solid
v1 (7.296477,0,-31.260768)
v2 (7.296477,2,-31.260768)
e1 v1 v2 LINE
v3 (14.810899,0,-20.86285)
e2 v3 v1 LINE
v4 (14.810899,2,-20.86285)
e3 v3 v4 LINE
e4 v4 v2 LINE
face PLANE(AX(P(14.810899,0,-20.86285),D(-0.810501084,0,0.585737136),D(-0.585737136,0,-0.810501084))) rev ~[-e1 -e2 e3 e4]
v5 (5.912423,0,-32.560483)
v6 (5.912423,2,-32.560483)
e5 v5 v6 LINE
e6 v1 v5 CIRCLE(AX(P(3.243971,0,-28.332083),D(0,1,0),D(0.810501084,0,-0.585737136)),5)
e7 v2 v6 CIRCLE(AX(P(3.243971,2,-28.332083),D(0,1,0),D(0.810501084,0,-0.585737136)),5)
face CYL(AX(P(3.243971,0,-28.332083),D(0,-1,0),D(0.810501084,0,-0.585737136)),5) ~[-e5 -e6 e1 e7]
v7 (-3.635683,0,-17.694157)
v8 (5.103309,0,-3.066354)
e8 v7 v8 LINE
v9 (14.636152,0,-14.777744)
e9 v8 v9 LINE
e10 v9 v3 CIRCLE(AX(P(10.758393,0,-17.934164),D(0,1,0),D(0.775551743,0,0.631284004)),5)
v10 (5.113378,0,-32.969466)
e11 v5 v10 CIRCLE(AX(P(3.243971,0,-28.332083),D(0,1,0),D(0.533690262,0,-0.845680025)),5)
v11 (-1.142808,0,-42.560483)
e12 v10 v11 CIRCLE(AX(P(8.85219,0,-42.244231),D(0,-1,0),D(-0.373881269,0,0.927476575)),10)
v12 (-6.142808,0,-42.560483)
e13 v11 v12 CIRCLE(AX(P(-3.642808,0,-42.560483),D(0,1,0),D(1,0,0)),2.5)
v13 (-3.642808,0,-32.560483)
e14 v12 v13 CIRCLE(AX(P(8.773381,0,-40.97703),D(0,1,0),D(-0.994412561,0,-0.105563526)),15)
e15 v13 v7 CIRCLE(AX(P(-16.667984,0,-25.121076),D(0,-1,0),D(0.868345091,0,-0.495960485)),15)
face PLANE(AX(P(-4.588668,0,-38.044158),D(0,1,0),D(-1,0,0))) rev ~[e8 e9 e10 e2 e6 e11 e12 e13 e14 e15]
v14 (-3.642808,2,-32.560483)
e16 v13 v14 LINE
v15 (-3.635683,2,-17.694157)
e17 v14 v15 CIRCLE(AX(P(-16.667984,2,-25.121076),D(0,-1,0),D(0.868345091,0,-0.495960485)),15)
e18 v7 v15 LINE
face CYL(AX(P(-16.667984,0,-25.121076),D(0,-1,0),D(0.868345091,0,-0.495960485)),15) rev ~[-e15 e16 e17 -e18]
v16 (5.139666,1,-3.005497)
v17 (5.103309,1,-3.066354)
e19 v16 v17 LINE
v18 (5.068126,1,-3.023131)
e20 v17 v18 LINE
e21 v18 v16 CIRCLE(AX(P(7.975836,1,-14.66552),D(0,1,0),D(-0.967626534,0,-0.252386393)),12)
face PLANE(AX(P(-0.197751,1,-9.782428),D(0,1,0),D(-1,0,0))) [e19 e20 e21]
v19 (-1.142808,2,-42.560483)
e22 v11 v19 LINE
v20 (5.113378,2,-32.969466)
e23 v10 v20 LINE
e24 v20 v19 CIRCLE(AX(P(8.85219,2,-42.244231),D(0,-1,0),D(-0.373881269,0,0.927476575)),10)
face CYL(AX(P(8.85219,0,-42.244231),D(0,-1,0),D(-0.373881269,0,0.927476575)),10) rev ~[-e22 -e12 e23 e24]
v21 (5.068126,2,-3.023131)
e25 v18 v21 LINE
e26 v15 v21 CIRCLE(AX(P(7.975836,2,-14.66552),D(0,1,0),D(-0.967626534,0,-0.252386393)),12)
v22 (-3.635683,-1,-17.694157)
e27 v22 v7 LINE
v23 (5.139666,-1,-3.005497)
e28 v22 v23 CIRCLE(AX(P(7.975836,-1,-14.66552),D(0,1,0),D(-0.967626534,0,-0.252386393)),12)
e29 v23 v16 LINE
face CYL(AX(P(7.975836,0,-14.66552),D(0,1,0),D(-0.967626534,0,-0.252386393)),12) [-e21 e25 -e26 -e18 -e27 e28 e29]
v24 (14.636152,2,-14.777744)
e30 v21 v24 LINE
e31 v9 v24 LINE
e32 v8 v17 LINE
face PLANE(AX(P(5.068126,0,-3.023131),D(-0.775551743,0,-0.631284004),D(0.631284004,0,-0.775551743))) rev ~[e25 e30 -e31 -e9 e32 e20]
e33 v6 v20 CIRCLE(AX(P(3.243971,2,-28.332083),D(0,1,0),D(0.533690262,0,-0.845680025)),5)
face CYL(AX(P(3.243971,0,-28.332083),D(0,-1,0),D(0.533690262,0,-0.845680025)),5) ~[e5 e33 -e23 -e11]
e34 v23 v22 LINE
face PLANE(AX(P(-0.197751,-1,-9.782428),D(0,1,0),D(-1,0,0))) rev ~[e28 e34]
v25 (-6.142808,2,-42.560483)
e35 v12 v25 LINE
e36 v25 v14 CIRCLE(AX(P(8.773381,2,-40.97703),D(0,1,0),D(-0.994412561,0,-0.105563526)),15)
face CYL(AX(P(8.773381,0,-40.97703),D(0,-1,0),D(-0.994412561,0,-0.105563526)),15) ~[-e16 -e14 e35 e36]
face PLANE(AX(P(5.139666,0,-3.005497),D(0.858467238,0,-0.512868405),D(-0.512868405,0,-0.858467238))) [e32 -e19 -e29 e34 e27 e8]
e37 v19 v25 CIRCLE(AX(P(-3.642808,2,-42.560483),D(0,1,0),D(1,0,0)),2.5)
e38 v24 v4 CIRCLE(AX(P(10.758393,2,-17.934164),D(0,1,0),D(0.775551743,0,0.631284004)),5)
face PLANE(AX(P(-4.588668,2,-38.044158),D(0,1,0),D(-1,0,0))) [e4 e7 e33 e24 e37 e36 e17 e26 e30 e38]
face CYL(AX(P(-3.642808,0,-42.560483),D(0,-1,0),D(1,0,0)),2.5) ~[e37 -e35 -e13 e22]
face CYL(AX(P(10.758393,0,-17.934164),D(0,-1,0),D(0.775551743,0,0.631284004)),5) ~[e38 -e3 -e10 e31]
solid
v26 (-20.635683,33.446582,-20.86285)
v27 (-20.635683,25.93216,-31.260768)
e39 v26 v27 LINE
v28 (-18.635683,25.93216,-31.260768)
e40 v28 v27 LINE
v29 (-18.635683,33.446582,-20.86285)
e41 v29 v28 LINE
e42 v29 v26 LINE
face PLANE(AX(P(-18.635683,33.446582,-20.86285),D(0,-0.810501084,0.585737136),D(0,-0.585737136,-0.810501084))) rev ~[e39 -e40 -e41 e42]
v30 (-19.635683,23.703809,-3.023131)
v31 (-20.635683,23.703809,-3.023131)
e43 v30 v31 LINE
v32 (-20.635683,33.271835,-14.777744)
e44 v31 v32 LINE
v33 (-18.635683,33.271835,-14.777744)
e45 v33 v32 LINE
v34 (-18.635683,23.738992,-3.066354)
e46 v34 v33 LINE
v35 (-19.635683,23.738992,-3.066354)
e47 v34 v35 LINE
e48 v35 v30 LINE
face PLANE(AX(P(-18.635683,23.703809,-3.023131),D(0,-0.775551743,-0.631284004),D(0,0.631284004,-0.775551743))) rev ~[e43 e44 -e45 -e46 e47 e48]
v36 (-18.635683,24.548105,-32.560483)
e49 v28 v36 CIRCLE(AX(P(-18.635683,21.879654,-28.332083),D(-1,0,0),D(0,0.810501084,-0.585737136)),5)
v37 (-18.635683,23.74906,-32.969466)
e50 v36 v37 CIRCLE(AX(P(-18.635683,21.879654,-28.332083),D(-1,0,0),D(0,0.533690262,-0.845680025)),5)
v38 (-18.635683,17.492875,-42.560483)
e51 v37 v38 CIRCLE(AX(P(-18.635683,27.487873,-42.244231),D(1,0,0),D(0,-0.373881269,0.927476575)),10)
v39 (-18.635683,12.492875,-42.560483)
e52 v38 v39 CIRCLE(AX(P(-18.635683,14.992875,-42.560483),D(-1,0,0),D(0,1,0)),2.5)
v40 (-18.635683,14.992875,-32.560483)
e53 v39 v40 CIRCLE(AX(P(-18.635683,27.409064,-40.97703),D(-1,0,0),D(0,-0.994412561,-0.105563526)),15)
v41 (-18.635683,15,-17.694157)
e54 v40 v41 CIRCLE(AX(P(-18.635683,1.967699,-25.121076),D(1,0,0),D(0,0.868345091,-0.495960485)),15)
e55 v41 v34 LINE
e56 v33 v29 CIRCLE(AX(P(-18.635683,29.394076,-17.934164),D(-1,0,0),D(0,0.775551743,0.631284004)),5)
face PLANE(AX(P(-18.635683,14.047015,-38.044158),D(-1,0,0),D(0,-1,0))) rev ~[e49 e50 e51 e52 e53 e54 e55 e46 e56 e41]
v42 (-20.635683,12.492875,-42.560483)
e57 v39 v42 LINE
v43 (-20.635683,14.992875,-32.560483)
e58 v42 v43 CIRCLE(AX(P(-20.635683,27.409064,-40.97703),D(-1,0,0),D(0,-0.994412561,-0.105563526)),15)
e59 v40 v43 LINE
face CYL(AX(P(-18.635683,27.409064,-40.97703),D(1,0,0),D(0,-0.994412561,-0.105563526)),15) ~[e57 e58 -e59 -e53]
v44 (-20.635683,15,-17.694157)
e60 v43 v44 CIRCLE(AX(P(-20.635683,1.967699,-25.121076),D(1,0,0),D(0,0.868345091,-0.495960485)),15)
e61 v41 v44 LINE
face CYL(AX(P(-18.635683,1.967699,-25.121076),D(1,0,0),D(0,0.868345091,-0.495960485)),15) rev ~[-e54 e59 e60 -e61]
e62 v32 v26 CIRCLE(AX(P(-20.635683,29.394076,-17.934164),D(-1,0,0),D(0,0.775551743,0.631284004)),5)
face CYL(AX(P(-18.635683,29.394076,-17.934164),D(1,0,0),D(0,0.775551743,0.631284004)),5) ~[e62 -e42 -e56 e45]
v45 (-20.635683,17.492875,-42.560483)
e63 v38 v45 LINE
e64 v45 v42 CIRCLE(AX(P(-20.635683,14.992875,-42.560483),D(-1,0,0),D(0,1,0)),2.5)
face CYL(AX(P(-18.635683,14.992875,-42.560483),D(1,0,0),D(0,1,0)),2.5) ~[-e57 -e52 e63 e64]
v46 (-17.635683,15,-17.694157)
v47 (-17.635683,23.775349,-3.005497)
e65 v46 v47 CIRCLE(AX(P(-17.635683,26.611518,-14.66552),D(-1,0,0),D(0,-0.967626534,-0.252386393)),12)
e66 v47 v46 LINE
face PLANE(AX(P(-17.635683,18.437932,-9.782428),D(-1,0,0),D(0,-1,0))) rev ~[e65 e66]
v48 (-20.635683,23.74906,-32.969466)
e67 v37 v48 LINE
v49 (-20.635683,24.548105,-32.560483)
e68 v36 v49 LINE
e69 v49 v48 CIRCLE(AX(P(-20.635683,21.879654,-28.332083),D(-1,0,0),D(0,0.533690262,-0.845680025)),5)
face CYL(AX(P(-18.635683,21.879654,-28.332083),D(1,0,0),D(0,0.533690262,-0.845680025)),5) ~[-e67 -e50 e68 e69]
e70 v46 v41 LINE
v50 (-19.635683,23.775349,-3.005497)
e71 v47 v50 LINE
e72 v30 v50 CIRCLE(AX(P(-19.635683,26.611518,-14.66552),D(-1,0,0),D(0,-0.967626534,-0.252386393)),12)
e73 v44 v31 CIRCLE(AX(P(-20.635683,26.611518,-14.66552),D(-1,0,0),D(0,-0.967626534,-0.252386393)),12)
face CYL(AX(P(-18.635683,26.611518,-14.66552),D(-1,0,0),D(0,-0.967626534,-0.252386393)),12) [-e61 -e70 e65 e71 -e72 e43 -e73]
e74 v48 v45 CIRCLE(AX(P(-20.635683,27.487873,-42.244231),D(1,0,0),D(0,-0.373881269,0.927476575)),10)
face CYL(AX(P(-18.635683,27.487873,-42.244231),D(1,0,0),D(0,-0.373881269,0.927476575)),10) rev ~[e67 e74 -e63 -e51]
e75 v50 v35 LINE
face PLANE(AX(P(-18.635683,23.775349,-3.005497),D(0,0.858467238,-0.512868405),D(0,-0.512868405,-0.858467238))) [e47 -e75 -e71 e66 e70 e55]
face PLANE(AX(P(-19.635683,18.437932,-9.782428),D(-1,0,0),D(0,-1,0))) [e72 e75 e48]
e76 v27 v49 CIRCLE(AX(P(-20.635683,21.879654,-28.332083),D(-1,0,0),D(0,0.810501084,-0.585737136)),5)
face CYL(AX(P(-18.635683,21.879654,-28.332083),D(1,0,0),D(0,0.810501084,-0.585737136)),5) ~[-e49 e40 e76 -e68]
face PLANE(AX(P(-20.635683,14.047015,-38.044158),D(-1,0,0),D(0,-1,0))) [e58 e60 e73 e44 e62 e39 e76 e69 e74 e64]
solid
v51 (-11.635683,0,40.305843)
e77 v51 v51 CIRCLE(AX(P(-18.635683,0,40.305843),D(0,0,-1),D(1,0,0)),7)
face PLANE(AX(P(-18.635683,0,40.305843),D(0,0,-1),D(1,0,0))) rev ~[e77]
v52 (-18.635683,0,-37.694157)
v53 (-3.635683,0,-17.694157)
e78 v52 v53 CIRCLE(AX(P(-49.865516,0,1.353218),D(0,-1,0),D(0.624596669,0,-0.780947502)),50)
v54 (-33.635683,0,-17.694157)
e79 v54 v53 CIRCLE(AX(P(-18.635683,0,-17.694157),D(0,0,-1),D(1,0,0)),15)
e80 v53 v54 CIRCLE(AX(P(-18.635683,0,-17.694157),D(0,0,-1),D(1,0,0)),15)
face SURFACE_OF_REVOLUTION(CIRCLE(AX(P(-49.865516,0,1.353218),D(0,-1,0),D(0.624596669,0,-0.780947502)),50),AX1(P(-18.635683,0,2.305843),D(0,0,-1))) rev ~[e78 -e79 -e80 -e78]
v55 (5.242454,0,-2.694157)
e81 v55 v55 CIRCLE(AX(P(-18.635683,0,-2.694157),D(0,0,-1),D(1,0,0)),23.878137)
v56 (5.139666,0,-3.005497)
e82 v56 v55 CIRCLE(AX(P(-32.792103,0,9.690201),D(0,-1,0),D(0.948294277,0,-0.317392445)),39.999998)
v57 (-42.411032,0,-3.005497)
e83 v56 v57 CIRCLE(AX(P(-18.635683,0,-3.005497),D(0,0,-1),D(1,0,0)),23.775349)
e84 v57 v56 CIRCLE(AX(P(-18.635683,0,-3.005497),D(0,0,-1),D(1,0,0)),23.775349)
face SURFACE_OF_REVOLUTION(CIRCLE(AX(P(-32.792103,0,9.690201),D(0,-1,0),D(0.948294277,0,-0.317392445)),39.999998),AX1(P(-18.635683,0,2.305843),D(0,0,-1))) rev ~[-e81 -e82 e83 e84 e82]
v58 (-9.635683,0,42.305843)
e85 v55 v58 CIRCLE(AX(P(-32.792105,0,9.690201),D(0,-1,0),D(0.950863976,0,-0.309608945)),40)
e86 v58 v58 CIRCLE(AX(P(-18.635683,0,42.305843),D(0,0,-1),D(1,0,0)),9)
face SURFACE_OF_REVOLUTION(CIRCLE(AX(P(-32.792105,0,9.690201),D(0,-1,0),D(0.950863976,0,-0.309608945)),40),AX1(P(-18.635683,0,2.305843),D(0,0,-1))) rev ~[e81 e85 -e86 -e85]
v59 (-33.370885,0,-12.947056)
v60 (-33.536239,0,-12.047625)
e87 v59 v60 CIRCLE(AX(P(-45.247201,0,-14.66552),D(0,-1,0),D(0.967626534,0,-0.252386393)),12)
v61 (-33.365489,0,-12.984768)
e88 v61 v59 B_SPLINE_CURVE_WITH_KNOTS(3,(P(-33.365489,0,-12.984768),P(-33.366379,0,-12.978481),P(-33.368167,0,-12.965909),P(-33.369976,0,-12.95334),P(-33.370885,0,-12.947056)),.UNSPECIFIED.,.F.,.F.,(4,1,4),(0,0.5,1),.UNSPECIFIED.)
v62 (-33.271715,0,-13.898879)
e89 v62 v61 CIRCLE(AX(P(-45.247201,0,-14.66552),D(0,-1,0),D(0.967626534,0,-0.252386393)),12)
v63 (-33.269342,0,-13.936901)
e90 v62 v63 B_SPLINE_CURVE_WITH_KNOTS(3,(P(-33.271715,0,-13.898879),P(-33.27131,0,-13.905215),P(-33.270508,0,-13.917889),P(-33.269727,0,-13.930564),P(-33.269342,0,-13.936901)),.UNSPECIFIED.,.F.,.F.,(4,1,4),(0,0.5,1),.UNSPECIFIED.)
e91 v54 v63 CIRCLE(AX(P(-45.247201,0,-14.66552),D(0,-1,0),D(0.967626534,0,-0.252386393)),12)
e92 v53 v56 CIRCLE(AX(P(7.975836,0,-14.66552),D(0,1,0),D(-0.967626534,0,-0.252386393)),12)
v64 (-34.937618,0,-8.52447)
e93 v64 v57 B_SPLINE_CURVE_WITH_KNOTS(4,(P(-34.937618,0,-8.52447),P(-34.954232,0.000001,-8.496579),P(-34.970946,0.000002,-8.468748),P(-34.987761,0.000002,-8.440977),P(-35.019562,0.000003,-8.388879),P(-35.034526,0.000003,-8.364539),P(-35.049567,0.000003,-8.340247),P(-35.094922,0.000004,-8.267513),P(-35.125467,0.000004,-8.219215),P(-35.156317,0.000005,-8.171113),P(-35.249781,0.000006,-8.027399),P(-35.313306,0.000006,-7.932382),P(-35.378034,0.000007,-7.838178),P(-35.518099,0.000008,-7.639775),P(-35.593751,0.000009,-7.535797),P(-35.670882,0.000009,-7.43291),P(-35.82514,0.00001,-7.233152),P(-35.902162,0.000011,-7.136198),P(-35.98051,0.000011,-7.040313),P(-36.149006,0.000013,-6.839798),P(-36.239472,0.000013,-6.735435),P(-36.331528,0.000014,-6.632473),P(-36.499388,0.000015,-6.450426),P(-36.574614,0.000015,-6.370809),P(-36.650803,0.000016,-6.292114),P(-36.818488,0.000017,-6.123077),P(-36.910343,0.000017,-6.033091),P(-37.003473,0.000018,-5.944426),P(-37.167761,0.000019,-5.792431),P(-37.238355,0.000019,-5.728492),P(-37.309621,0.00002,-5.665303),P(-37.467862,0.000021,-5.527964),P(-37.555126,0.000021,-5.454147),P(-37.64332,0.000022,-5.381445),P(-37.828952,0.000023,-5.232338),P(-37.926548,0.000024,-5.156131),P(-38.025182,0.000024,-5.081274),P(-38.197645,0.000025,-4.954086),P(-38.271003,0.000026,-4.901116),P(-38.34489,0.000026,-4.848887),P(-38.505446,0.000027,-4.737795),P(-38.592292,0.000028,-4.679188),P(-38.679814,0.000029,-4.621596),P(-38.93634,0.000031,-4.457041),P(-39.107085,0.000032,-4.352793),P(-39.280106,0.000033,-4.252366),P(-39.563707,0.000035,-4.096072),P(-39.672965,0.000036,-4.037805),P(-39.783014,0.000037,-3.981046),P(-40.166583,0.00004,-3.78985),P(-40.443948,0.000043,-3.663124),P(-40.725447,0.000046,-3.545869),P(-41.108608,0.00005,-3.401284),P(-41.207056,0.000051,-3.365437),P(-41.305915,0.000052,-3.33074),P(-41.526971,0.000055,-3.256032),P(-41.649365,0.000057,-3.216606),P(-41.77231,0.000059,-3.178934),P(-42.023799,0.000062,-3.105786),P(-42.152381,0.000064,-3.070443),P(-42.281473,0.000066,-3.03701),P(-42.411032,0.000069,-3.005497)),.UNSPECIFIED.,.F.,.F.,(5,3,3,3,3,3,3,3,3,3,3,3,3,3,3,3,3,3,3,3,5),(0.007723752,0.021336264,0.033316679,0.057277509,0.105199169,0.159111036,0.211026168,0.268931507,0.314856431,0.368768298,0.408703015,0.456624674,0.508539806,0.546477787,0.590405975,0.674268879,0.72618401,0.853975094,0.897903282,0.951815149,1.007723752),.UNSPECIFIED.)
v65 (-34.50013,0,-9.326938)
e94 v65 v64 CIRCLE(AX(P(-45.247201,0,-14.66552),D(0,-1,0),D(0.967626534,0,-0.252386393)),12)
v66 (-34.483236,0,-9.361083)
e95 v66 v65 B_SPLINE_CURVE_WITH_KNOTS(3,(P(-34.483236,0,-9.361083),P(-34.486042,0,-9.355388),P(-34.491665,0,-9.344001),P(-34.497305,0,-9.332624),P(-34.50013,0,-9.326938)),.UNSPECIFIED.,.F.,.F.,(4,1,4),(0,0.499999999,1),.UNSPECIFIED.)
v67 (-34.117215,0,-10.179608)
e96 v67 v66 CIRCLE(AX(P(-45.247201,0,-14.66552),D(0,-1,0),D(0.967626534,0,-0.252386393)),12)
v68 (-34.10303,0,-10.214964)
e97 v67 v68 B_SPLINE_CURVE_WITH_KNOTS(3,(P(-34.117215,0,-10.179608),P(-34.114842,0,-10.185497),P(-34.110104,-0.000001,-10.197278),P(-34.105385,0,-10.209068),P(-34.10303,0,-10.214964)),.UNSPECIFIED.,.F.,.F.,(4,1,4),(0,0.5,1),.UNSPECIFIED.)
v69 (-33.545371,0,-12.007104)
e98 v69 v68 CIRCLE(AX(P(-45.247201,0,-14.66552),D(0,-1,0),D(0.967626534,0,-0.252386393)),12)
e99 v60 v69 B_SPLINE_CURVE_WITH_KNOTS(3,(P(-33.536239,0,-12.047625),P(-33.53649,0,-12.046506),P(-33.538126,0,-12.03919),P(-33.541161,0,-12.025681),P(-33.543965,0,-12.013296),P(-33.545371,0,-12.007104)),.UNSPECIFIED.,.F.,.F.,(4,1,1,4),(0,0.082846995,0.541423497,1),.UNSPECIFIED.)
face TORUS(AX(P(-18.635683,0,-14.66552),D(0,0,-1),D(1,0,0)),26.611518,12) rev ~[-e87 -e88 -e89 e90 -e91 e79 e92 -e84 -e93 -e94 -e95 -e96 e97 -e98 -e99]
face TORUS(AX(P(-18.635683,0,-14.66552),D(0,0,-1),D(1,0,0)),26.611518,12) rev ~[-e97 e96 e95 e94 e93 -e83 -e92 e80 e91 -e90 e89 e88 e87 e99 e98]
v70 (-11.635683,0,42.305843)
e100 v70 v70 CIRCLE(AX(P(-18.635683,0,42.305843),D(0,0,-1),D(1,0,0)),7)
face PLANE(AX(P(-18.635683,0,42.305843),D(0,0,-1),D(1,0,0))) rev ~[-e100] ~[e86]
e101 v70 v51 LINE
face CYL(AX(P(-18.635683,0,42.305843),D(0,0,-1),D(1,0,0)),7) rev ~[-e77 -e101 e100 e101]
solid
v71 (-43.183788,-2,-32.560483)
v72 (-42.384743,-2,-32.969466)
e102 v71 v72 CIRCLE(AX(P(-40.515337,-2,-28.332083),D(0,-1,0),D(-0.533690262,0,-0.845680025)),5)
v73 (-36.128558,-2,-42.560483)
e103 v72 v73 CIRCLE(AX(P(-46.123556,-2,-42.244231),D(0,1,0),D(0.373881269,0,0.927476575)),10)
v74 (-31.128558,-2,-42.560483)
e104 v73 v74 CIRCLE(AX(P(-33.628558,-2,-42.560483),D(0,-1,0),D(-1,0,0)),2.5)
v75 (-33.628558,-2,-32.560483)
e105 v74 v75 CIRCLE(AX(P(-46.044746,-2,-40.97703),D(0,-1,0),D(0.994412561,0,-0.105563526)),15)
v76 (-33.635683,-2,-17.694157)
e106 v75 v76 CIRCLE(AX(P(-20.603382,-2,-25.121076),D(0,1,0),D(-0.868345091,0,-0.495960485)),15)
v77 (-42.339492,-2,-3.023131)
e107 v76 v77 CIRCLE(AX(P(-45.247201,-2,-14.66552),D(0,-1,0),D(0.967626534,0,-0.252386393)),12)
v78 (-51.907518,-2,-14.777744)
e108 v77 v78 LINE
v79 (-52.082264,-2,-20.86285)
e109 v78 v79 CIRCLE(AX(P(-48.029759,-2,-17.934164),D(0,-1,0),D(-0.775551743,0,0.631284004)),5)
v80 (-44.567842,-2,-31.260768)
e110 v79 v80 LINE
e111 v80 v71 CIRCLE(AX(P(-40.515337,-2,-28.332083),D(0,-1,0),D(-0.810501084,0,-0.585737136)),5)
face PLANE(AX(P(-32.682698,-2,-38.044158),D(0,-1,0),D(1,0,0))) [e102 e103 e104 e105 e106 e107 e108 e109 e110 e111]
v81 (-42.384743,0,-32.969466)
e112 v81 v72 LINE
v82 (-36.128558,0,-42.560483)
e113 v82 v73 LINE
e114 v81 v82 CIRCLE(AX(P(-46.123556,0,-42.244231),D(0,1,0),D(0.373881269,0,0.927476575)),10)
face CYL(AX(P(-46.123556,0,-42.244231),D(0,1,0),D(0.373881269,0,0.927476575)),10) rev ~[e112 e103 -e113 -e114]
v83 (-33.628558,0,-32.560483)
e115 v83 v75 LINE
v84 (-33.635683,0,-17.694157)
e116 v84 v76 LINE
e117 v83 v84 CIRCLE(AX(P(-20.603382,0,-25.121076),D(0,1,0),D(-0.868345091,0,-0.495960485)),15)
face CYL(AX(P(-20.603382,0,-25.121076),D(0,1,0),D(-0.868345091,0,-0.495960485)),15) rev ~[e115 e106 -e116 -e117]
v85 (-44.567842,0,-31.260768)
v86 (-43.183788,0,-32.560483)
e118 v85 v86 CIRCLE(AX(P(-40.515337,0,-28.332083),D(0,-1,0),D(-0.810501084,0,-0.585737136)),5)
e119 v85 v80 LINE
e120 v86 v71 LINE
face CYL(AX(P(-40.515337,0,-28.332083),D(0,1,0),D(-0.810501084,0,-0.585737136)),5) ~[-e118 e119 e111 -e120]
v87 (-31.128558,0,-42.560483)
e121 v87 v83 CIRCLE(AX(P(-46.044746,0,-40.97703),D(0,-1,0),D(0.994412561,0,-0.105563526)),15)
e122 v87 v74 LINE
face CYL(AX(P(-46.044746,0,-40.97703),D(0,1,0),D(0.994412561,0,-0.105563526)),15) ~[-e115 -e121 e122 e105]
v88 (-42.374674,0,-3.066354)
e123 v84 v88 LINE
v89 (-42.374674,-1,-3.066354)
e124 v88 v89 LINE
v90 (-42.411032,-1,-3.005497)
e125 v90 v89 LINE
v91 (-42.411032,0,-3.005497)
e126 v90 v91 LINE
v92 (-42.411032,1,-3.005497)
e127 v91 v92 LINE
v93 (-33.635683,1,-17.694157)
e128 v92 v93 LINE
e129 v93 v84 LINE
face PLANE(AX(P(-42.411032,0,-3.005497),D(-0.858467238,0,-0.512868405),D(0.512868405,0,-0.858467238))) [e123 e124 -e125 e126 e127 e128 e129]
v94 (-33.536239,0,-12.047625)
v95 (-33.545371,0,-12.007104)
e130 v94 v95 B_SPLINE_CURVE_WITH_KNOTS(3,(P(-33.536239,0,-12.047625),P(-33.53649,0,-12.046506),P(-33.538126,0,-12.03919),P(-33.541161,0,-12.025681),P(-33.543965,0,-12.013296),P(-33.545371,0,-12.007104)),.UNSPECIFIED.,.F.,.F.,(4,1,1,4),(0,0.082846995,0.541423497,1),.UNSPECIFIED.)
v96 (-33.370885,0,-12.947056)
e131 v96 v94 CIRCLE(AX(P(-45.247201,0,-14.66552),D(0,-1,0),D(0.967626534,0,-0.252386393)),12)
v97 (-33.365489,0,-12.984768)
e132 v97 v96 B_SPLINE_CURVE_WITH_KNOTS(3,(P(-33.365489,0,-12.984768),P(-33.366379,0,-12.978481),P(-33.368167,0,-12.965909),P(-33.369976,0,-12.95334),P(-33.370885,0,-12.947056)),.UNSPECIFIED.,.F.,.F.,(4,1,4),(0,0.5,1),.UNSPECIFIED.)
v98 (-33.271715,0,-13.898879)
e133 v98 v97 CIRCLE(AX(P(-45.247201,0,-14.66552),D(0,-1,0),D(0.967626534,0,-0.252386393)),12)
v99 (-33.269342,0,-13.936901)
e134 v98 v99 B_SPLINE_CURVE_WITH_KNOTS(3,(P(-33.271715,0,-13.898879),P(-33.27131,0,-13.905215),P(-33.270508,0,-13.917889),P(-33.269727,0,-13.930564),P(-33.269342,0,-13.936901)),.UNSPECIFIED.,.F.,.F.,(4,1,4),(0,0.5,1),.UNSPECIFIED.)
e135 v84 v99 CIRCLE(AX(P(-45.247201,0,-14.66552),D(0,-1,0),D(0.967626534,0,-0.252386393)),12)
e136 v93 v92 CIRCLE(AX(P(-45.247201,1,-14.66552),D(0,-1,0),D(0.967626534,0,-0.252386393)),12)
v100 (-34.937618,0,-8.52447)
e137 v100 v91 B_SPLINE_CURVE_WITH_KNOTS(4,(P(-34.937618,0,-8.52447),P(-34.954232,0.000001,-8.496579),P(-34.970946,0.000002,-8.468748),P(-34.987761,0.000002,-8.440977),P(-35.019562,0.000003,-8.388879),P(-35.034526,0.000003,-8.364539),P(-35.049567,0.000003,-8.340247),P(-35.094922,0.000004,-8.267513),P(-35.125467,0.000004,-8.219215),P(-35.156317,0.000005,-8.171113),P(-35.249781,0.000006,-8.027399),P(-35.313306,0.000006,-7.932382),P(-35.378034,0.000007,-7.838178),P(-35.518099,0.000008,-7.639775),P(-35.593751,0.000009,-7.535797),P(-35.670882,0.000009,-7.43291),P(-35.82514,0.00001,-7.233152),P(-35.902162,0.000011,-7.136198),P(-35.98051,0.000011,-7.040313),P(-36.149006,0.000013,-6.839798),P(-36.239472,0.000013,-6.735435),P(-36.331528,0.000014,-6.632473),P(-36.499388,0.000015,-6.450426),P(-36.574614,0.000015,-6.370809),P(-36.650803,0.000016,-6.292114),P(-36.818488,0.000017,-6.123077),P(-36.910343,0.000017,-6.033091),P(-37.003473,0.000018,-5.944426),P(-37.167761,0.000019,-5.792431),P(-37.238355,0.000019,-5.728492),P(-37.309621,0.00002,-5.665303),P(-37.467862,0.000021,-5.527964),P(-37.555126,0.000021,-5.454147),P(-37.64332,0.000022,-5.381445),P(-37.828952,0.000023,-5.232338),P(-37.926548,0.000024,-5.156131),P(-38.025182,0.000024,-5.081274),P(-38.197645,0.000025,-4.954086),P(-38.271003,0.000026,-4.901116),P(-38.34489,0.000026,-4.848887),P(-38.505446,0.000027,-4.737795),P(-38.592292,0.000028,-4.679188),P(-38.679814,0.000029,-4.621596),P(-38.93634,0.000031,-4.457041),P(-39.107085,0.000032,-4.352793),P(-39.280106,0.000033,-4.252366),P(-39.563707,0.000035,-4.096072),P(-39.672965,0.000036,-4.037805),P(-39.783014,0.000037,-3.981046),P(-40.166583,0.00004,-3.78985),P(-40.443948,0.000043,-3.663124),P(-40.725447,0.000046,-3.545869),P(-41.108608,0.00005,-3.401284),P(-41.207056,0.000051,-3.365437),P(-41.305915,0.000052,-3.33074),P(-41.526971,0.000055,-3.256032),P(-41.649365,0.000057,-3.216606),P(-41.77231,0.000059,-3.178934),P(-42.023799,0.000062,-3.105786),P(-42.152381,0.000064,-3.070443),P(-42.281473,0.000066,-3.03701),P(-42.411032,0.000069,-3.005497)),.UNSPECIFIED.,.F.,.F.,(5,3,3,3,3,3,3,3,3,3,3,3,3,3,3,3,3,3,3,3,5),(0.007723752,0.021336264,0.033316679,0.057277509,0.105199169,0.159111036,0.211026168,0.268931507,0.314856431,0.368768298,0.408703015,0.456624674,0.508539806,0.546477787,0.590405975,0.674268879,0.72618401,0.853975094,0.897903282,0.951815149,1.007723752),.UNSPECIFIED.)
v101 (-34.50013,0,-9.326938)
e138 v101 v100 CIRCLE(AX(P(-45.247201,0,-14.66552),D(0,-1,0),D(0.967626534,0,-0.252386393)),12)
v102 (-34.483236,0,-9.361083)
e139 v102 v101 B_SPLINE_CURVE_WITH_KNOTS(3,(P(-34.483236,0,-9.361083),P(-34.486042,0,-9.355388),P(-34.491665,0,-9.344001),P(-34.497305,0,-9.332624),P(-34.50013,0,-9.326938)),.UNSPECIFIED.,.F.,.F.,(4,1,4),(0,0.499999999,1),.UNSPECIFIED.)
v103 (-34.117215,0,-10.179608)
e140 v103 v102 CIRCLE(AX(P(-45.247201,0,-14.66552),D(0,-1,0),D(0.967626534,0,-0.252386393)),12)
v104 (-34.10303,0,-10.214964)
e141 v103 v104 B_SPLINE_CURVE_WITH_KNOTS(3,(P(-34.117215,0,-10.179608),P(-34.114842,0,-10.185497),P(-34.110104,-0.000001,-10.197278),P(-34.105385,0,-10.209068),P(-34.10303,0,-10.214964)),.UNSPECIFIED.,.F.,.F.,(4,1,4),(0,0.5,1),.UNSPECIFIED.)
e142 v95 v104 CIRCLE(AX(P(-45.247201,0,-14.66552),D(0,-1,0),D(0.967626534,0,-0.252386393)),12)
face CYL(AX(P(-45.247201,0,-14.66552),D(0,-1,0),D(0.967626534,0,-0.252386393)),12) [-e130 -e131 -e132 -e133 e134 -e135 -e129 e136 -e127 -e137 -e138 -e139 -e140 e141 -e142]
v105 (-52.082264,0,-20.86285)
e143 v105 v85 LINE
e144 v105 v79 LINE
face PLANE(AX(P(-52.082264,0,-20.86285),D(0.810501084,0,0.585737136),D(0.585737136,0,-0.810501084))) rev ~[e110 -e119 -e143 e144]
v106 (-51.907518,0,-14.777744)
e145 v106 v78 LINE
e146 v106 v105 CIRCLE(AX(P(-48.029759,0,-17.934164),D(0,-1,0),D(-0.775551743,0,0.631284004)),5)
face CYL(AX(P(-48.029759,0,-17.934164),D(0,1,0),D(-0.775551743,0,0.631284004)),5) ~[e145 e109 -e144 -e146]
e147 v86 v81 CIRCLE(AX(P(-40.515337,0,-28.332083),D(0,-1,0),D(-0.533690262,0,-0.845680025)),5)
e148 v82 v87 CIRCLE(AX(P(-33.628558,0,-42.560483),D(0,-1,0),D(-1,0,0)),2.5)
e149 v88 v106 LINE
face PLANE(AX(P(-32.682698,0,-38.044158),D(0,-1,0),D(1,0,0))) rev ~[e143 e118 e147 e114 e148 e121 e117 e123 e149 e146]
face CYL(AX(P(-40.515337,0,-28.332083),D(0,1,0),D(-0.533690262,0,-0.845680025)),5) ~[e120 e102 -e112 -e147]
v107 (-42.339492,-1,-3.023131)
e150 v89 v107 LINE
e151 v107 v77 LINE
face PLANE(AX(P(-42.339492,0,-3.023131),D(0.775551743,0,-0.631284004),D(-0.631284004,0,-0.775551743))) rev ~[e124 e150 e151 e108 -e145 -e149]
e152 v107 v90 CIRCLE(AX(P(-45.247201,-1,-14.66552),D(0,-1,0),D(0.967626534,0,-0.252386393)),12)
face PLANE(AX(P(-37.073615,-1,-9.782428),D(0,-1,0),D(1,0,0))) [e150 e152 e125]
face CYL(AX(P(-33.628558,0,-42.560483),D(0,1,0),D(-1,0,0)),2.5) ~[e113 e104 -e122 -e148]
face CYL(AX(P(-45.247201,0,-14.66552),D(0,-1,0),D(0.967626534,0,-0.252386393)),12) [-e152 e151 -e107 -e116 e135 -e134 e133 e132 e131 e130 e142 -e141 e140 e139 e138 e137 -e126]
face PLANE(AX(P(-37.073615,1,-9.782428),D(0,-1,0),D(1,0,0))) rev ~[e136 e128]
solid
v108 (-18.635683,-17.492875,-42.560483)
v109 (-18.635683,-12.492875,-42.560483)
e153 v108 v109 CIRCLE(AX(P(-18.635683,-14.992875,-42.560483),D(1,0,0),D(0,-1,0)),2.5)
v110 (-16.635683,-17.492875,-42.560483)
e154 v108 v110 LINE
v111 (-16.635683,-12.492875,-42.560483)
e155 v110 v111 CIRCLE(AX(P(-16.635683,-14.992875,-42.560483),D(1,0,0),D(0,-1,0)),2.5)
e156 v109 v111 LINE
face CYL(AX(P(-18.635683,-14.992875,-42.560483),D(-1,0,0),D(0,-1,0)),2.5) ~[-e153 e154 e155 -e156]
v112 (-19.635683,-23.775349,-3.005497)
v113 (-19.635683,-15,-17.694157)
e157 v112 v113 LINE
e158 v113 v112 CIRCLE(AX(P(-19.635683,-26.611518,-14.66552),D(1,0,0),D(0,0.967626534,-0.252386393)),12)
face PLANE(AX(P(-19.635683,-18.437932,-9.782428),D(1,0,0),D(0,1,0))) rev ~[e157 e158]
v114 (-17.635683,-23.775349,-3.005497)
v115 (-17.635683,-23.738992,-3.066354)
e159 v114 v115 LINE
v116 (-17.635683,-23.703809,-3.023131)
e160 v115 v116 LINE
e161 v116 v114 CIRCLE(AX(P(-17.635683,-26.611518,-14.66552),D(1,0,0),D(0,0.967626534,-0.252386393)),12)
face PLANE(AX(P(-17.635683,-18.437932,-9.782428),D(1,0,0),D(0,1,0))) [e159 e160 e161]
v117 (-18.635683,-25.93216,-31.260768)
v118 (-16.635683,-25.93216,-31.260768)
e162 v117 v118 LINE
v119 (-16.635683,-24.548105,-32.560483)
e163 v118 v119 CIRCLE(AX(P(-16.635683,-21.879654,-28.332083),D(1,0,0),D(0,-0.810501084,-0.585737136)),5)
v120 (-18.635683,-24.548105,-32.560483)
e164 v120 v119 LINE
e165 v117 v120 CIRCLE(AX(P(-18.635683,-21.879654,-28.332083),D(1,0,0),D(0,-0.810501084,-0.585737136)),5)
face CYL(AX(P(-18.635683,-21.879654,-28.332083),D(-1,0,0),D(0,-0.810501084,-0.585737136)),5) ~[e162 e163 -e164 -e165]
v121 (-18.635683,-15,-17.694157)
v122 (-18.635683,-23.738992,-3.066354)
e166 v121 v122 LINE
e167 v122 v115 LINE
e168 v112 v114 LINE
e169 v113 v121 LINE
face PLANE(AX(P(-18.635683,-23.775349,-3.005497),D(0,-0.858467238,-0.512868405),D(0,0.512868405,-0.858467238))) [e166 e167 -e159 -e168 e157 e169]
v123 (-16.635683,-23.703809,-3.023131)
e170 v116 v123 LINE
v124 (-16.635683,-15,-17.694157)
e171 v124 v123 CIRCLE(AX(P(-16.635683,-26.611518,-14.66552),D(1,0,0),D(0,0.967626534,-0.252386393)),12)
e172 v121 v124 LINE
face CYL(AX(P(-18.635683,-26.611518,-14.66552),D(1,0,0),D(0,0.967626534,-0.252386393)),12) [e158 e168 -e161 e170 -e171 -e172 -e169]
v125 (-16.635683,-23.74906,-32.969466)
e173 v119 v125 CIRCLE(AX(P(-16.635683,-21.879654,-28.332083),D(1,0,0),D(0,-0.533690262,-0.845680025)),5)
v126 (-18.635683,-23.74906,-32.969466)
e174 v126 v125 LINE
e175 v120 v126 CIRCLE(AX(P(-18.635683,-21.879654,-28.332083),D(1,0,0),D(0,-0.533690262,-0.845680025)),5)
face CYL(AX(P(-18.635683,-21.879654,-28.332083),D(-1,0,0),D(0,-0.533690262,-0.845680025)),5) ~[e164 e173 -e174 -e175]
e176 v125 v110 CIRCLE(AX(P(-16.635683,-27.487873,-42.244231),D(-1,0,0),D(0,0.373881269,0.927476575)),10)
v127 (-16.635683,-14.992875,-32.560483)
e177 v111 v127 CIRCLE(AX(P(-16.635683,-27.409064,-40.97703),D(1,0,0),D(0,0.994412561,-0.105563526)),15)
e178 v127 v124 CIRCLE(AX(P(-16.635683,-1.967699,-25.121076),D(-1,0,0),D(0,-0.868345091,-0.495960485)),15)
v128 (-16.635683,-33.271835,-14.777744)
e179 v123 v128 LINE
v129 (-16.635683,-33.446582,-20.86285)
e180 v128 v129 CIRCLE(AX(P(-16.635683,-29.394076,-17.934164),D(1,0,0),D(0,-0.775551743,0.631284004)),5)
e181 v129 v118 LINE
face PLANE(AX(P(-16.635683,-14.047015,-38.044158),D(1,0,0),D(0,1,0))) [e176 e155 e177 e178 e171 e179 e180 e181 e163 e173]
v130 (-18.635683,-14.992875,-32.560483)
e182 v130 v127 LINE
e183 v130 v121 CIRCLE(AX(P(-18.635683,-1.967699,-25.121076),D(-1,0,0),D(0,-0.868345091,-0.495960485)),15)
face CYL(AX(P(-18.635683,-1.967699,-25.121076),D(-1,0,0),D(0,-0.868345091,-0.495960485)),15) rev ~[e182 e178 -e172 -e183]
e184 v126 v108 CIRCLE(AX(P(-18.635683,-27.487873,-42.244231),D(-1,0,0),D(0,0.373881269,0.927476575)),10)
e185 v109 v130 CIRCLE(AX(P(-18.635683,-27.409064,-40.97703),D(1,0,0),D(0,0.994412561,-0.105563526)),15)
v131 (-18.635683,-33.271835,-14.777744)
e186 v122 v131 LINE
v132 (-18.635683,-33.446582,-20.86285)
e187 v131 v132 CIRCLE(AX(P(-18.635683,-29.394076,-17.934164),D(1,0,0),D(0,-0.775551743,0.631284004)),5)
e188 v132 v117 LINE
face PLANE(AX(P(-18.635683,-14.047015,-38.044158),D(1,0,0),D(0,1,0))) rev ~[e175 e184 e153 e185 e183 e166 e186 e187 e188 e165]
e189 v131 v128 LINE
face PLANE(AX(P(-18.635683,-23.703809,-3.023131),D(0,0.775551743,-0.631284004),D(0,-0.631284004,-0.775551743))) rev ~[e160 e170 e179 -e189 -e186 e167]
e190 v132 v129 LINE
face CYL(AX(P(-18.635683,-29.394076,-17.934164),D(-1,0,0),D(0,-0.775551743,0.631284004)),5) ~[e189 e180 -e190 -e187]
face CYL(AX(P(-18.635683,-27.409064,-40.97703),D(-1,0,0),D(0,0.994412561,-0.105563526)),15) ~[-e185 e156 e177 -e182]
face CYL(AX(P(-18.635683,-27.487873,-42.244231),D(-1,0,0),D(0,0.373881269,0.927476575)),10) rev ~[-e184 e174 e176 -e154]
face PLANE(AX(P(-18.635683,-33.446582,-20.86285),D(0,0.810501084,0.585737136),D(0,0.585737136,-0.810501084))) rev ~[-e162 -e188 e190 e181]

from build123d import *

# Parameters (mm, degrees)
F3_DEPTH = 1
F5_DEPTH = 2
F6_COUNT = 4


with BuildPart() as f1:
    # F0 (on Front) → F1 (revolve)
    with BuildSketch(Plane.XZ):
        with BuildLine():
            Line((-3.6356827617, -17.6941566169), (-18.6356827617, -17.6941566169))
            Line((-18.6356827617, -17.6941566169), (-18.6356827617, -37.6941566169))
            ThreePointArc((-18.6356827617, -37.6941566169), (-9.8655162237, -28.6467815204), (-3.6356827617, -17.6941566169))
        make_face()
        with BuildLine():
            Line((-11.6356827617, 40.3058433831), (-18.6356827617, 40.3058433831))
            Line((-18.6356827617, 40.3058433831), (-18.6356827617, -2.6941566169))
            Line((-18.6356827617, -2.6941566169), (5.2424542111, -2.6941566169))
            ThreePointArc((5.2424542111, -2.6941566169), (5.185968346, 22.2467117265), (-9.6356827617, 42.3058433831))
            Line((-9.6356827617, 42.3058433831), (-11.6356827617, 42.3058433831))
            Line((-11.6356827617, 42.3058433831), (-11.6356827617, 40.3058433831))
        make_face()
        with BuildLine():
            Line((5.2424542111, -2.6941566169), (-18.6356827617, -2.6941566169))
            Line((-18.6356827617, -2.6941566169), (-18.6356827617, -17.6941566169))
            Line((-18.6356827617, -17.6941566169), (-3.6356827617, -17.6941566169))
            ThreePointArc((-3.6356827617, -17.6941566169), (-2.3257712161, -8.5110990435), (5.1396662475, -3.0054966121))
            ThreePointArc((5.1396662475, -3.0054966121), (5.1913792265, -2.8499319305), (5.2424542111, -2.6941566169))
        make_face()
    revolve(axis=Axis((-18.6356827617, 0, 2.3058433831), (0, 0, -1)))

    # F2 (on Front) → F3 (join, symmetric)
    with BuildSketch(Plane.XZ):
        with BuildLine():
            Line((-42.4110317708, -3.0054966121), (-33.6356827617, -17.6941566169))
            ThreePointArc((-33.6356827617, -17.6941566169), (-34.9455943073, -8.5110990435), (-42.4110317708, -3.0054966121))
        make_face()
    extrude(amount=F3_DEPTH, both=True)

    # F4 (on Front) → F5 (join)
    with BuildSketch(Plane.XZ):
        with BuildLine():
            Line((-33.6285579444, -42.5604829009), (-31.1285579444, -42.5604829009))
            ThreePointArc((-31.1285579444, -42.5604829009), (-31.4926088604, -37.3389956299), (-33.6285579444, -32.5604829009))
            Line((-33.6285579444, -32.5604829009), (-33.6285579444, -42.5604829009))
        make_face()
        with BuildLine():
            ThreePointArc((-36.1285579444, -42.5604829009), (-33.6285579444, -45.0604829009), (-31.1285579444, -42.5604829009))
            Line((-31.1285579444, -42.5604829009), (-33.6285579444, -42.5604829009))
            Line((-33.6285579444, -42.5604829009), (-36.1285579444, -42.5604829009))
        make_face()
        with BuildLine():
            Line((-36.1285579444, -42.5604829009), (-33.6285579444, -42.5604829009))
            Line((-33.6285579444, -42.5604829009), (-33.6285579444, -32.5604829009))
            Line((-33.6285579444, -32.5604829009), (-43.1837882215, -32.5604829009))
            ThreePointArc((-43.1837882215, -32.5604829009), (-42.7934621812, -32.7829417117), (-42.3847432555, -32.9694656511))
            ThreePointArc((-42.3847432555, -32.9694656511), (-37.7479191336, -36.7808342841), (-36.1285579444, -42.5604829009))
        make_face()
        with BuildLine():
            Line((-43.1837882215, -32.5604829009), (-33.6285579444, -32.5604829009))
            ThreePointArc((-33.6285579444, -32.5604829009), (-35.603379857, -25.1282645023), (-33.6356827617, -17.6941566169))
            ThreePointArc((-33.6356827617, -17.6941566169), (-34.926748444, -8.5427545474), (-42.3394917441, -3.0231307194))
            Line((-42.3394917441, -3.0231307194), (-51.9075177165, -14.7777438296))
            ThreePointArc((-51.9075177165, -14.7777438296), (-53.027698591, -17.7906374211), (-52.0822644213, -20.8628495258))
            Line((-52.0822644213, -20.8628495258), (-44.5678423342, -31.2607684552))
            ThreePointArc((-44.5678423342, -31.2607684552), (-43.9380740122, -31.976924439), (-43.1837882215, -32.5604829009))
        make_face()
    extrude(amount=F5_DEPTH)


with BuildPart() as f6_1:
    # F6: instance of F1
    add(f1.part.rotate(Axis((-18.6356827617, 0, 2.3058433831), (0, 0, -1)), 1 * 360 / F6_COUNT))


with BuildPart() as f6_2:
    # F6: instance of F1
    add(f1.part.rotate(Axis((-18.6356827617, 0, 2.3058433831), (0, 0, -1)), 2 * 360 / F6_COUNT))


with BuildPart() as f6_3:
    # F6: instance of F1
    add(f1.part.rotate(Axis((-18.6356827617, 0, 2.3058433831), (0, 0, -1)), 3 * 360 / F6_COUNT))


solid = Compound([f1.part, f6_1.part, f6_2.part, f6_3.part])
